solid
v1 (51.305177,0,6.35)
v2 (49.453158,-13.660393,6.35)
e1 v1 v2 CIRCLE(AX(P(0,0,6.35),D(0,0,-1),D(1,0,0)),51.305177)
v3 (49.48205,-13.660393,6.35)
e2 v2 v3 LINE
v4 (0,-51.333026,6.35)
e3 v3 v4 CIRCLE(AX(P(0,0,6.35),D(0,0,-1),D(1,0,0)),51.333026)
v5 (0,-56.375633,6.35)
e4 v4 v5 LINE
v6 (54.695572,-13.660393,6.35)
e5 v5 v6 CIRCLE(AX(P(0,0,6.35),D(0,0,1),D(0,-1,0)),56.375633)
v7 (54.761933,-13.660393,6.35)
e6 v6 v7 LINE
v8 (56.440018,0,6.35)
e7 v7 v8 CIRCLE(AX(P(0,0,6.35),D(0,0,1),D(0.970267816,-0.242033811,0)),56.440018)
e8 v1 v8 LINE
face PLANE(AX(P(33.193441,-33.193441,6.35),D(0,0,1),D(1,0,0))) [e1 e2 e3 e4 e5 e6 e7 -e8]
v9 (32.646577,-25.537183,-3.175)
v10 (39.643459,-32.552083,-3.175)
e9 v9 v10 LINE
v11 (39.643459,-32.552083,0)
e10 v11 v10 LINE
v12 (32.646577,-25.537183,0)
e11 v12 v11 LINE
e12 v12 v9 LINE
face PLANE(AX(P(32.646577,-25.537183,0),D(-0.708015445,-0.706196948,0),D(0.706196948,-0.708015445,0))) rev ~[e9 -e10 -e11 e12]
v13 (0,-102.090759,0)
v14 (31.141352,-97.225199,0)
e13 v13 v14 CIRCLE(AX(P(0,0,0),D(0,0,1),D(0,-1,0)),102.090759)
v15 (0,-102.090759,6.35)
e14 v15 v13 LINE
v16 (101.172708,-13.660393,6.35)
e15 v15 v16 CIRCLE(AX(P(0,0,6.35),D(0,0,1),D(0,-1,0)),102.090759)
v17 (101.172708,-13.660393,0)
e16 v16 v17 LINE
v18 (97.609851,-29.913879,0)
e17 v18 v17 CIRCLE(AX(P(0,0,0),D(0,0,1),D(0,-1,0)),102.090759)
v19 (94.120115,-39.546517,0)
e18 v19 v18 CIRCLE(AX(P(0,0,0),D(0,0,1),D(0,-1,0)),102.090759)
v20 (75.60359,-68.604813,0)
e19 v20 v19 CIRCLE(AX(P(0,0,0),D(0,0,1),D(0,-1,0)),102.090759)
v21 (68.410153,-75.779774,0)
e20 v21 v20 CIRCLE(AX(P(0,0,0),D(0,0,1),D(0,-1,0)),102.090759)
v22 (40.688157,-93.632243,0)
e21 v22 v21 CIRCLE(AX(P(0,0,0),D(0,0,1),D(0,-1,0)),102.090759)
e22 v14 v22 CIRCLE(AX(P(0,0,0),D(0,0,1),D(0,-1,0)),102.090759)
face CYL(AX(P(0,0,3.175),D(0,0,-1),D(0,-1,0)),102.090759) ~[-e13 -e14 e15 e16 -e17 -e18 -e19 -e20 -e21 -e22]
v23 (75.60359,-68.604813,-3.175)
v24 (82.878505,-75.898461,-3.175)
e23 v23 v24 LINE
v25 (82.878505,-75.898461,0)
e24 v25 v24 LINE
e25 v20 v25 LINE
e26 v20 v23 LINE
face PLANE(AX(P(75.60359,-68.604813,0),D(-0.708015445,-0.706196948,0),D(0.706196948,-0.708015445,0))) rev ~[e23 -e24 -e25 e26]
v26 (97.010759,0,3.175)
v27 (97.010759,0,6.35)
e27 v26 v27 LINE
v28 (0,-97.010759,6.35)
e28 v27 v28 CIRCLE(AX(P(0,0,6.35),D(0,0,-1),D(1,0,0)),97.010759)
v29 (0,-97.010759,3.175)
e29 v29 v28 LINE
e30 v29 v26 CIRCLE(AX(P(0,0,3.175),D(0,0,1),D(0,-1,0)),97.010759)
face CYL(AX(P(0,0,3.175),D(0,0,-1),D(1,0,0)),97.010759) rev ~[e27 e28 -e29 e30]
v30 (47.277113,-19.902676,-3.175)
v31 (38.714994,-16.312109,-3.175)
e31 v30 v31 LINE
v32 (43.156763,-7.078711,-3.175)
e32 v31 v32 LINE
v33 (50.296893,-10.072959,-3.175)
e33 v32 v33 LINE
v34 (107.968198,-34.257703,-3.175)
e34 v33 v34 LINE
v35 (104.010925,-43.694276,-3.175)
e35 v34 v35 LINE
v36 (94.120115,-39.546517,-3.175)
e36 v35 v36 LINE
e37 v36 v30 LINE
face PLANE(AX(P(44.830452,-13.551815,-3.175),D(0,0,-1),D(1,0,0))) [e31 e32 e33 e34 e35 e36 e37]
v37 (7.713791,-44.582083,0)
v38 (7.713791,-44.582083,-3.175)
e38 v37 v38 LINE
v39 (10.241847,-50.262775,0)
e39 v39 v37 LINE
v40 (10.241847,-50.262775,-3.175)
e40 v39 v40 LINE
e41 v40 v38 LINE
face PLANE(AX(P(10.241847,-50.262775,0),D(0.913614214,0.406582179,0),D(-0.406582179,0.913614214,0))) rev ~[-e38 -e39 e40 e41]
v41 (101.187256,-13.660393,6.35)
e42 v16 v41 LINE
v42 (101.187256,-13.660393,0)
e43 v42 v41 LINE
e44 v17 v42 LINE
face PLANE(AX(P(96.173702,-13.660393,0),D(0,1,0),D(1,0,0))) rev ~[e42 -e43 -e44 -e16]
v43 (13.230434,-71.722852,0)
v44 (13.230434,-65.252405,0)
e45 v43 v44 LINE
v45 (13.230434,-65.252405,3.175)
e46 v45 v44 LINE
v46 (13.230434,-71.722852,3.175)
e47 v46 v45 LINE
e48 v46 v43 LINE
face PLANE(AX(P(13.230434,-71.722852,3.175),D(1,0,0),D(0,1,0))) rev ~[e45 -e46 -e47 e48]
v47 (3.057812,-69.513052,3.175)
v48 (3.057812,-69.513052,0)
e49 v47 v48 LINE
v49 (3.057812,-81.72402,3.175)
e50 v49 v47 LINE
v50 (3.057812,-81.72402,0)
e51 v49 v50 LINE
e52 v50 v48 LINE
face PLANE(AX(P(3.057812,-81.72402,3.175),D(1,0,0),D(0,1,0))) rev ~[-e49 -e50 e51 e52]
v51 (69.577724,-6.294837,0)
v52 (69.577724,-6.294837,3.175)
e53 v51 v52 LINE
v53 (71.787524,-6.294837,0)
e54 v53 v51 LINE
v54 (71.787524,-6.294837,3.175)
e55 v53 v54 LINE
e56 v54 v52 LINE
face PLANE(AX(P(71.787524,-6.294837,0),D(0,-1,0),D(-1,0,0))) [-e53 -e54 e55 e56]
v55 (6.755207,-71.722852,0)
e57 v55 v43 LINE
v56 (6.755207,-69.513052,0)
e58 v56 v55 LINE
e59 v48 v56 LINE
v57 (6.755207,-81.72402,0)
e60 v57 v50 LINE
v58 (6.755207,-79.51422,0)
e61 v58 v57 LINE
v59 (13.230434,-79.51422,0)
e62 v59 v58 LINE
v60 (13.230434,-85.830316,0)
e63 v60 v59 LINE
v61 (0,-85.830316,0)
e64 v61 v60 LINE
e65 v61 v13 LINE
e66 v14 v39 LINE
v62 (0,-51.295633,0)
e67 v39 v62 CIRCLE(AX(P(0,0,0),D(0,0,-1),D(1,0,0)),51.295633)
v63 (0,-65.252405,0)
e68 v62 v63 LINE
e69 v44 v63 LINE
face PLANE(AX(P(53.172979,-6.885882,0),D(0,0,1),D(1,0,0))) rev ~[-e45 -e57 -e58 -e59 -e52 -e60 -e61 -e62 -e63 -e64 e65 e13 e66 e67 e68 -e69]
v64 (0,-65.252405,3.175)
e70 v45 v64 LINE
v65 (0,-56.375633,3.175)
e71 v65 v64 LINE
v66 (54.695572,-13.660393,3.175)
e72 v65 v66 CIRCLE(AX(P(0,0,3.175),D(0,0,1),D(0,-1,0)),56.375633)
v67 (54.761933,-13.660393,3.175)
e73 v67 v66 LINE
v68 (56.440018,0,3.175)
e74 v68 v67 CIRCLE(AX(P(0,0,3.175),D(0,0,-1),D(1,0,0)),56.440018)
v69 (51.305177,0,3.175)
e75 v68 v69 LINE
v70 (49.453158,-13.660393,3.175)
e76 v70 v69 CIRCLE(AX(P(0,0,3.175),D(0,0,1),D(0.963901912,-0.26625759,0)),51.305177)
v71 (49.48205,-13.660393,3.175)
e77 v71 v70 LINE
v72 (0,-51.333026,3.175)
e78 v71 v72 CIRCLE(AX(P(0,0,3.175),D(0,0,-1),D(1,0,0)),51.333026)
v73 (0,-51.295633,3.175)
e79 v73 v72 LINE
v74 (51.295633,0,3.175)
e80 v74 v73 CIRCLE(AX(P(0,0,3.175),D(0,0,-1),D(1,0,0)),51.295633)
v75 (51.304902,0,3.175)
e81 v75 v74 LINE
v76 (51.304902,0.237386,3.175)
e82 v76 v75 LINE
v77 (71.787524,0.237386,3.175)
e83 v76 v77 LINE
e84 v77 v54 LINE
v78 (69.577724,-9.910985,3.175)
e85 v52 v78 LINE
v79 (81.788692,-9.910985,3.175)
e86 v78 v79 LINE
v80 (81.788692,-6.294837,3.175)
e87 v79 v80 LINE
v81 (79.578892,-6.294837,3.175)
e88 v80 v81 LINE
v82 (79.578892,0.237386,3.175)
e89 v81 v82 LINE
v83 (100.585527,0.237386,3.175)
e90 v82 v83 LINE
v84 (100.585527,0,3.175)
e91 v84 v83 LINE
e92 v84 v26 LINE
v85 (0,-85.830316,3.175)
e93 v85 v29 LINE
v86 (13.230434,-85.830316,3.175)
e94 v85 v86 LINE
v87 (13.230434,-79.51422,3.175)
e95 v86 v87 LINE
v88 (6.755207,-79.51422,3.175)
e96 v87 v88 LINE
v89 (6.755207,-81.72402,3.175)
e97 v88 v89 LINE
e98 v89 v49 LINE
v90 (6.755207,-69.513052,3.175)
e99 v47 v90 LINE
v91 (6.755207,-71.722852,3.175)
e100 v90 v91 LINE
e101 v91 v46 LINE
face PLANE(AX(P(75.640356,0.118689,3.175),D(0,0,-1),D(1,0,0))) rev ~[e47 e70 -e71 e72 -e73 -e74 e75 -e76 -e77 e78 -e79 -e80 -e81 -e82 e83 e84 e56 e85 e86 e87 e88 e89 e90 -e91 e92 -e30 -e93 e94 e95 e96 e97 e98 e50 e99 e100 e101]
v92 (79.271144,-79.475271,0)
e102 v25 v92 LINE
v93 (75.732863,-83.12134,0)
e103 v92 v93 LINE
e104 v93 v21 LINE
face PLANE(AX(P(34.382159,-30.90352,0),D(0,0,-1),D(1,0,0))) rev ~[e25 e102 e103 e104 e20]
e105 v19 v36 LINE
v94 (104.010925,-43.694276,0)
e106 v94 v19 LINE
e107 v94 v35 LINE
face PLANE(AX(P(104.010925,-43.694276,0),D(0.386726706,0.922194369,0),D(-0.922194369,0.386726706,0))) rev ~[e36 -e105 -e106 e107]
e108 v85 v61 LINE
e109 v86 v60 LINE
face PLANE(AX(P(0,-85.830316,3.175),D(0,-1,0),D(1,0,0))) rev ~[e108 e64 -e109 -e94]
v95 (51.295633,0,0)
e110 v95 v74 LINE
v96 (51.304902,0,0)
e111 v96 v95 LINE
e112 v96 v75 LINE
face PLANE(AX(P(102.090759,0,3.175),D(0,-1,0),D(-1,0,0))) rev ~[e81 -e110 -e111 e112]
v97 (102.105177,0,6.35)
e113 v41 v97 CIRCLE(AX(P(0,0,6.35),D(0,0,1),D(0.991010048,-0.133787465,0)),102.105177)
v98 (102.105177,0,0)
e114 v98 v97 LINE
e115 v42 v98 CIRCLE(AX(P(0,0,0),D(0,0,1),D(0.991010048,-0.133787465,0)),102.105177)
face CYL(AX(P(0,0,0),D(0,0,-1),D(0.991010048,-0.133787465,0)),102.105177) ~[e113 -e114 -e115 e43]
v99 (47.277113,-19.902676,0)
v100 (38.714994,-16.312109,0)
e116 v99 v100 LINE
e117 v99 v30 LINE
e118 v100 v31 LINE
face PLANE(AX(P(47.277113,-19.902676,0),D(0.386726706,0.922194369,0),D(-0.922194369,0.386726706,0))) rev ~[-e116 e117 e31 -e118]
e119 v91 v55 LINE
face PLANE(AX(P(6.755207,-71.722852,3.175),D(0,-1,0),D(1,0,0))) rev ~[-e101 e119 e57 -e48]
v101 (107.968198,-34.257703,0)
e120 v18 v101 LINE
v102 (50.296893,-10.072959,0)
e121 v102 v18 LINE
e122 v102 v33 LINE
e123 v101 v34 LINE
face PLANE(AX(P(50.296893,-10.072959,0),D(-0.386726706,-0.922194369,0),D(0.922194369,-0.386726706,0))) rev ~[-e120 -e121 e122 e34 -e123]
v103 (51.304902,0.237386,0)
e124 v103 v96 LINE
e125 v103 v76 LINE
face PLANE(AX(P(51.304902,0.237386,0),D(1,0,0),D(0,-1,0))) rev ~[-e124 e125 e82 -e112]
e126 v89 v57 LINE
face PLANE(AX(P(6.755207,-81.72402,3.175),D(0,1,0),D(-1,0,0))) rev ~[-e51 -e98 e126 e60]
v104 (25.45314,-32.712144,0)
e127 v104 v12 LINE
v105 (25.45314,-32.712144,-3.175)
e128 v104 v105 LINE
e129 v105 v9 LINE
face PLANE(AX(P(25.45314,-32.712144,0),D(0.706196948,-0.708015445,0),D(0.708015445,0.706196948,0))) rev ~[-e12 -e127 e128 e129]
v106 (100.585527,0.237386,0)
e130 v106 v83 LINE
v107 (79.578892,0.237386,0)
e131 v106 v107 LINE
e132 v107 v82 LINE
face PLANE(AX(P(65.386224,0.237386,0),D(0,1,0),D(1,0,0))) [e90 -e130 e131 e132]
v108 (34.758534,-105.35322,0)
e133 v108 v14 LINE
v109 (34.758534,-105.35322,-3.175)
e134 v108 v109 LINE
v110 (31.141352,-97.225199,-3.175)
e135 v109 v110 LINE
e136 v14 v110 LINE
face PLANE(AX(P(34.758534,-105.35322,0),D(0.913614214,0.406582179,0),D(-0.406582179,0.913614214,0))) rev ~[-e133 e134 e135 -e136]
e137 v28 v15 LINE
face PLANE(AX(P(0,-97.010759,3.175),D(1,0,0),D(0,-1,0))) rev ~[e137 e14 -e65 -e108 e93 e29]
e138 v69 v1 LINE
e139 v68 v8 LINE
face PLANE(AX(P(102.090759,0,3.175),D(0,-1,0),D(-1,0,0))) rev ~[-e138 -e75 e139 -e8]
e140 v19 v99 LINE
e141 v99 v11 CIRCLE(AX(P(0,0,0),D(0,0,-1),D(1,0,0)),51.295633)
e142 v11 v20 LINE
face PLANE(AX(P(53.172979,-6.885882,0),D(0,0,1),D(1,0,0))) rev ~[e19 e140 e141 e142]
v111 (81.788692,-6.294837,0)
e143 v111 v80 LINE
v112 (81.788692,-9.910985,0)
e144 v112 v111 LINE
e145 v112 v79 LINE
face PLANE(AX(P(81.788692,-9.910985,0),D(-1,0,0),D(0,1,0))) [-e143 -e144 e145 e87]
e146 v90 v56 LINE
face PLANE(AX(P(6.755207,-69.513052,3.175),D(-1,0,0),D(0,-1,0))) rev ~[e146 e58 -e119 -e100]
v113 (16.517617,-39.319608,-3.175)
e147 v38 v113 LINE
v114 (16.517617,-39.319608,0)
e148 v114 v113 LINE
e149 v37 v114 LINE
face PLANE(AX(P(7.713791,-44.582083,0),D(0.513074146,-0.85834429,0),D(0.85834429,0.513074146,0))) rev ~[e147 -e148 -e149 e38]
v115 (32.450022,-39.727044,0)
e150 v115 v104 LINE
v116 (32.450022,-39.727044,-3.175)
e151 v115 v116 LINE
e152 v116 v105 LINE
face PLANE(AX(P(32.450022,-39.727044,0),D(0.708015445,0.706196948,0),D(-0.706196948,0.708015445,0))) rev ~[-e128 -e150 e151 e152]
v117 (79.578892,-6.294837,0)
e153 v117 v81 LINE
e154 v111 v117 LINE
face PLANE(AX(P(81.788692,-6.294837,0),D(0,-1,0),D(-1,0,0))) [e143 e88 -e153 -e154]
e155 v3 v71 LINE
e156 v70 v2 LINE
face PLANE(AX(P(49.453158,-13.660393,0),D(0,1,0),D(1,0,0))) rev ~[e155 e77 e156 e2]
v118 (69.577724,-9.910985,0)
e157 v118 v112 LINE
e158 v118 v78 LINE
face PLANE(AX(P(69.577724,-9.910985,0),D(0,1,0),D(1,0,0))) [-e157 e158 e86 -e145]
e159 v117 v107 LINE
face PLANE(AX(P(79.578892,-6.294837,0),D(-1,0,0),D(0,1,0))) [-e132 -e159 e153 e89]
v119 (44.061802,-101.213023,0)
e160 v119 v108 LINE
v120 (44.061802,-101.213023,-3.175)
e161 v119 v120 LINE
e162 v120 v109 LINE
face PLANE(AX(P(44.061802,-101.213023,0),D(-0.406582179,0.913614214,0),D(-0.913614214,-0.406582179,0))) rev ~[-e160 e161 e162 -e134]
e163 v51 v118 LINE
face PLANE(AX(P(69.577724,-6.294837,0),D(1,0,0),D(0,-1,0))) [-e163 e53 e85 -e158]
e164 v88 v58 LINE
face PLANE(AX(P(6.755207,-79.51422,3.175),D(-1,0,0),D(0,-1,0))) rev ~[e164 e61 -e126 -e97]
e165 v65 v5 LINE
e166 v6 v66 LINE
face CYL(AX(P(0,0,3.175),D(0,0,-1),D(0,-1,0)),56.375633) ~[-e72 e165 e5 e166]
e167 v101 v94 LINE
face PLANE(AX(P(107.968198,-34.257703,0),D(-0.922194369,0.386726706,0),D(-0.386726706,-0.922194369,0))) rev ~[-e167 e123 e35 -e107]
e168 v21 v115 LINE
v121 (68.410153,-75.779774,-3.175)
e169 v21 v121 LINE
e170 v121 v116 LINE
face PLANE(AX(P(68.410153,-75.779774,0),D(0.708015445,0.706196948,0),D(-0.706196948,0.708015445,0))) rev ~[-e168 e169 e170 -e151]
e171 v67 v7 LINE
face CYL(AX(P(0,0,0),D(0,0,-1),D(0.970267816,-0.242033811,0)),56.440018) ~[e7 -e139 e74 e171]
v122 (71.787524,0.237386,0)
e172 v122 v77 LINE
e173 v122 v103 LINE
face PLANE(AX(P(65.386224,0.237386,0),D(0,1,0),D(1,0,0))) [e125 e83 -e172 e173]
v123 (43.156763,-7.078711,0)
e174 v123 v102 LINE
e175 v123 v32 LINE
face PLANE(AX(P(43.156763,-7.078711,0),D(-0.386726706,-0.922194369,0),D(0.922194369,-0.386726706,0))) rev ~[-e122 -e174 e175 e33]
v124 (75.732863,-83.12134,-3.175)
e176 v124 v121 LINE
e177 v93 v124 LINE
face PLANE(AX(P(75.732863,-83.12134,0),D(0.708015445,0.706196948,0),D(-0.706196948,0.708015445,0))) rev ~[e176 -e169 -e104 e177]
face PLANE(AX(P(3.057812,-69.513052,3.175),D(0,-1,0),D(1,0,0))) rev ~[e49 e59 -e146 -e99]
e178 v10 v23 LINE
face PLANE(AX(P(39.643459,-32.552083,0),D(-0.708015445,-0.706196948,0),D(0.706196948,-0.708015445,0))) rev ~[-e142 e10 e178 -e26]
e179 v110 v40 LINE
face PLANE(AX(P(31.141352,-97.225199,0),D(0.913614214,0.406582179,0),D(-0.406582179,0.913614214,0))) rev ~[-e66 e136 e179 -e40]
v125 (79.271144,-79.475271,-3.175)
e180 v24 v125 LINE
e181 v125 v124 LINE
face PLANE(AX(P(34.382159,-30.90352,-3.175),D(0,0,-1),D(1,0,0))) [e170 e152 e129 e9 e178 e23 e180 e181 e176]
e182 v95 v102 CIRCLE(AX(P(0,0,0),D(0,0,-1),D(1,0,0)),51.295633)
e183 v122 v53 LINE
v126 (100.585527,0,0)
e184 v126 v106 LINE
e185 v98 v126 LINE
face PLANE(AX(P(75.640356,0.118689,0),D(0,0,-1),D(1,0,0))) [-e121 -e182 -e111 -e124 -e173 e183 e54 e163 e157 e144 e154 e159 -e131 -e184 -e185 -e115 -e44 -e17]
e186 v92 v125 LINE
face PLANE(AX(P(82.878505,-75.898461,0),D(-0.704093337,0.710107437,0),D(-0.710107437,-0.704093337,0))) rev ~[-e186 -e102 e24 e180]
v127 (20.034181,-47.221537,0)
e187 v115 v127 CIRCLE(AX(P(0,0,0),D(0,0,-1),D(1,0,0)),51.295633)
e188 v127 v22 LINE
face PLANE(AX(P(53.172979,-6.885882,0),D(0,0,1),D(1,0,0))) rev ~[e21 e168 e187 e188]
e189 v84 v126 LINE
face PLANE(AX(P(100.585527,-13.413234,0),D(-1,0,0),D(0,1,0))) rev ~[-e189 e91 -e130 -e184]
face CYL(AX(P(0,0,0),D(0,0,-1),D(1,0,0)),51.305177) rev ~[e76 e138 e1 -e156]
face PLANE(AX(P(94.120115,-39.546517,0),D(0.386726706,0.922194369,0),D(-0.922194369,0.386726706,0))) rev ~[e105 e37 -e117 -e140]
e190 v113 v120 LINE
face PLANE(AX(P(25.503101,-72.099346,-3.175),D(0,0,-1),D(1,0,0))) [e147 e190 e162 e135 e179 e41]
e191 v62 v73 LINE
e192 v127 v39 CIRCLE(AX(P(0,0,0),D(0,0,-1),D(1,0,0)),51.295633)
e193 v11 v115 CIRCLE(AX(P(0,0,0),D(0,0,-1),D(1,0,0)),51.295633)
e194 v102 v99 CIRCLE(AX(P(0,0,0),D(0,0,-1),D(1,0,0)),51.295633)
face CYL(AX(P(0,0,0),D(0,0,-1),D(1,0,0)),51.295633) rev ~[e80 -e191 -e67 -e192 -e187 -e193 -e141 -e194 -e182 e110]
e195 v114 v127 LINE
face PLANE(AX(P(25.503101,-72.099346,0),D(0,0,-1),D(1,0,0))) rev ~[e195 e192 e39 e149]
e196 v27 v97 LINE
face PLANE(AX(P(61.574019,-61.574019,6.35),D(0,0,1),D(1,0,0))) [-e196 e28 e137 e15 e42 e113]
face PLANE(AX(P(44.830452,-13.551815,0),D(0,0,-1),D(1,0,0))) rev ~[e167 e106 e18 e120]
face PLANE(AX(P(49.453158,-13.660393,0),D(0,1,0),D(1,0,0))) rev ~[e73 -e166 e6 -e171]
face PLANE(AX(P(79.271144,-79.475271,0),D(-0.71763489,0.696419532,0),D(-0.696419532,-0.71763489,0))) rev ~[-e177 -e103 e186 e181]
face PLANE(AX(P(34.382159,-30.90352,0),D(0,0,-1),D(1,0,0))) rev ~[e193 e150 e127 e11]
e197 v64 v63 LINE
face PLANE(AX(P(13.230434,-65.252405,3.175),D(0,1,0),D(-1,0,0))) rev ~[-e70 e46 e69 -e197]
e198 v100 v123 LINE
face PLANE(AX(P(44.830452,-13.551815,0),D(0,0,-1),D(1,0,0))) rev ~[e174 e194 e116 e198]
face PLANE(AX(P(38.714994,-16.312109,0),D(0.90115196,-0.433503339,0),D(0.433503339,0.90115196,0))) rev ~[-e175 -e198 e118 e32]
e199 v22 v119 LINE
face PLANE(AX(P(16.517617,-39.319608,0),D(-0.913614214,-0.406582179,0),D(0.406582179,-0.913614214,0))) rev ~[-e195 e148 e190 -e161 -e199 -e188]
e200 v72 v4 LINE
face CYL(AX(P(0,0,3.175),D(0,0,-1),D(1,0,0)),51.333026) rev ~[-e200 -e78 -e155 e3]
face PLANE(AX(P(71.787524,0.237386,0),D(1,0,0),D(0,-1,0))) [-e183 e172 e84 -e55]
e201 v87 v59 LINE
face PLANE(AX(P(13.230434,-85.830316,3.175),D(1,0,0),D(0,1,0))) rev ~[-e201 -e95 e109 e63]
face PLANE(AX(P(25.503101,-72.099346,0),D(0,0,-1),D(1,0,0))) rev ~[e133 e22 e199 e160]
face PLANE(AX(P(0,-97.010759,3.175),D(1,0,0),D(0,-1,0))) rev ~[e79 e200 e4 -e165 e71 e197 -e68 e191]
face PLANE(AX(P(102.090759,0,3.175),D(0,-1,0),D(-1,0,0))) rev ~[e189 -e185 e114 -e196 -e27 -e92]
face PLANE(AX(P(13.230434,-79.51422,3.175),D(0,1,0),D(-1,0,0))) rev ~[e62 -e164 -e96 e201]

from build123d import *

# Parameters (mm, degrees)
F1_DEPTH  = 3.175
F4_DEPTH  = 3.175
F6_DEPTH  = 6.35
F7_DEPTH  = 3.175
F9_DEPTH  = 25.4
F11_DEPTH = 3.175
F13_DEPTH = 3.175
F14_DEPTH = 25.4


with BuildPart() as f1:
    # F0 (on Top) → F1 (new body)
    with BuildSketch(Plane.XY):
        with BuildLine():
            Line((0, -51.2956328023), (0, -102.09075941))
            ThreePointArc((0, -102.09075941), (72.1890682753, -72.1890682753), (102.09075941, 0))
            Line((102.09075941, 0), (51.2956328023, 0))
            ThreePointArc((51.2956328023, 0), (36.2714897998, -36.2714897998), (0, -51.2956328023))
        make_face()
    extrude(amount=F1_DEPTH)

    # F3 (on face) → F4 (join)
    with BuildSketch(Plane.XY.offset(3.175)):
        with BuildLine():
            ThreePointArc((0, -56.3756328023), (39.8635922482, -39.8635922482), (56.3756328023, 0))
            Line((56.3756328023, 0), (51.3330261441, 0))
            ThreePointArc((51.3330261441, 0), (36.2979308853, -36.2979308853), (0, -51.3330261441))
            Line((0, -51.3330261441), (0, -56.3756328023))
        make_face()
        with BuildLine():
            Line((102.09075941, 0), (97.01075941, 0))
            ThreePointArc((97.01075941, 0), (68.5969658269, -68.5969658269), (0, -97.01075941))
            Line((0, -97.01075941), (0, -102.09075941))
            ThreePointArc((0, -102.09075941), (72.1890682753, -72.1890682753), (102.09075941, 0))
        make_face()
    extrude(amount=F4_DEPTH)

    # F5 (on Top) → F6 (join)
    with BuildSketch(Plane.XY):
        with BuildLine():
            ThreePointArc((54.7619331998, -13.660392724), (56.0189261095, -6.8815386855), (56.4400182242, 0))
            Line((56.4400182242, 0), (51.3051767249, 0))
            ThreePointArc((51.3051767249, 0), (50.8400637591, -6.8926827684), (49.4531579316, -13.660392724))
            Line((49.4531579316, -13.660392724), (54.7619331998, -13.660392724))
        make_face()
        with BuildLine():
            Line((102.1051767249, 0), (97.1390098326, 0))
            ThreePointArc((97.1390098326, 0), (96.8973822865, -6.8472284381), (96.1737017167, -13.660392724))
            Line((96.1737017167, -13.660392724), (101.1872560388, -13.660392724))
            ThreePointArc((101.1872560388, -13.660392724), (101.8754380952, -6.8455990928), (102.1051767249, 0))
        make_face()
    extrude(amount=F6_DEPTH)

    # F2 (on Top) → F7 (join)
    with BuildSketch(Plane.XY):
        Polygon((65.3862244444, -13.4132344524), (65.3862244444, 0.2373858813), (51.3049019501, 0.2373858813), (51.3049019501, -13.4632168472), align=None)
        Polygon((100.5855267867, 0.2373858813), (85.8938746733, 0.2373858813), (85.9641355587, -13.4132344524), (100.5855267867, -13.4132344524), align=None)
    extrude(amount=F7_DEPTH)

    # F8 (on face) → F9 (cut)
    with BuildSketch(Plane.XY.offset(3.175)):
        Polygon((0, -85.8303158734), (13.2304336887, -85.8303158734), (13.2304336887, -79.5142199461), (6.7552071823, -79.5142199461), (6.7552071823, -81.7240199461), (3.0578118576, -81.7240199461), (3.0578118576, -69.5130521654), (6.7552071823, -69.5130521654), (6.7552071823, -71.7228521654), (13.2304336887, -71.7228521654), (13.2304336887, -65.2524047592), (0, -65.2524047592), align=None)
    extrude(amount=-F9_DEPTH, mode=Mode.SUBTRACT)

    # F10 (on face) → F11 (join)
    with BuildSketch(Plane(origin=(0, 0, 0), x_dir=(1, 0, 0), z_dir=(0, 0, -1))):
        with BuildLine():
            ThreePointArc((39.6434592285, 32.5520826521), (37.980845771, 34.4774897449), (36.2248193412, 36.3181002847))
            Line((36.2248193412, 36.3181002847), (29.0498583475, 29.1246633635))
            Line((29.0498583475, 29.1246633635), (32.646576808, 25.5371828667))
            Line((32.646576808, 25.5371828667), (39.6434592285, 32.5520826521))
        make_face()
        with BuildLine():
            Line((29.0498583475, 29.1246633635), (36.2248193412, 36.3181002847))
            ThreePointArc((36.2248193412, 36.3181002847), (34.3796988436, 38.0693873344), (32.4500223073, 39.7270436459))
            Line((32.4500223073, 39.7270436459), (25.4531398869, 32.7121438604))
            Line((25.4531398869, 32.7121438604), (29.0498583475, 29.1246633635))
        make_face()
        with BuildLine():
            Line((36.2248193412, 36.3181002847), (72.0961827352, 72.2818344532))
            ThreePointArc((72.0961827352, 72.2818344532), (70.2749350461, 74.0537417095), (68.4101530773, 75.7797737714))
            Line((68.4101530773, 75.7797737714), (32.4500223073, 39.7270436459))
            ThreePointArc((32.4500223073, 39.7270436459), (34.3796988436, 38.0693873344), (36.2248193412, 36.3181002847))
        make_face()
        with BuildLine():
            ThreePointArc((75.6035899985, 68.6048127777), (73.8727679087, 70.4651496728), (72.0961827352, 72.2818344532))
            Line((72.0961827352, 72.2818344532), (36.2248193412, 36.3181002847))
            ThreePointArc((36.2248193412, 36.3181002847), (37.980845771, 34.4774897449), (39.6434592285, 32.5520826521))
            Line((39.6434592285, 32.5520826521), (75.6035899985, 68.6048127777))
        make_face()
        with BuildLine():
            Line((79.271143729, 79.4752713743), (72.0961827352, 72.2818344532))
            ThreePointArc((72.0961827352, 72.2818344532), (73.8727679087, 70.4651496728), (75.6035899985, 68.6048127777))
            Line((75.6035899985, 68.6048127777), (82.8785053866, 75.8984614814))
            Line((82.8785053866, 75.8984614814), (79.271143729, 79.4752713743))
        make_face()
        with BuildLine():
            ThreePointArc((68.4101530773, 75.7797737714), (70.2749350461, 74.0537417095), (72.0961827352, 72.2818344532))
            Line((72.0961827352, 72.2818344532), (79.271143729, 79.4752713743))
            Line((79.271143729, 79.4752713743), (75.7328631666, 83.1213402502))
            Line((75.7328631666, 83.1213402502), (68.4101530773, 75.7797737714))
        make_face()
        with BuildLine():
            Line((20.0341812257, 47.2215366883), (40.6881574418, 93.6322433828))
            ThreePointArc((40.6881574418, 93.6322433828), (35.9596571955, 95.5480309127), (31.1413521737, 97.2251991086))
            Line((31.1413521737, 97.2251991086), (10.2418471319, 50.2627746142))
            ThreePointArc((10.2418471319, 50.2627746142), (15.2141958482, 48.9874493037), (20.0341812257, 47.2215366883))
        make_face()
        with BuildLine():
            ThreePointArc((31.1413521737, 97.2251991086), (35.9596571955, 95.5480309127), (40.6881574418, 93.6322433828))
            Line((40.6881574418, 93.6322433828), (44.0618023276, 101.2130230665))
            Line((44.0618023276, 101.2130230665), (34.7585338749, 105.353220427))
            Line((34.7585338749, 105.353220427), (31.1413521737, 97.2251991086))
        make_face()
        with BuildLine():
            Line((16.5176168084, 39.3196083605), (20.0341812257, 47.2215366883))
            ThreePointArc((20.0341812257, 47.2215366883), (15.2141958482, 48.9874493037), (10.2418471319, 50.2627746142))
            Line((10.2418471319, 50.2627746142), (7.7137911807, 44.5820833017))
            Line((7.7137911807, 44.5820833017), (16.5176168084, 39.3196083605))
        make_face()
        with BuildLine():
            ThreePointArc((50.2968928634, 10.0729594896), (49.0339423103, 15.0636796999), (47.2771132537, 19.902675875))
            Line((47.2771132537, 19.902675875), (38.7149937451, 16.3121093065))
            Line((38.7149937451, 16.3121093065), (43.1567628434, 7.0787111473))
            Line((43.1567628434, 7.0787111473), (50.2968928634, 10.0729594896))
        make_face()
        with BuildLine():
            ThreePointArc((97.6098508897, 29.9138791566), (95.9858944102, 34.7740022313), (94.1201154327, 39.5465172658))
            Line((94.1201154327, 39.5465172658), (47.2771132537, 19.902675875))
            ThreePointArc((47.2771132537, 19.902675875), (49.0339423103, 15.0636796999), (50.2968928634, 10.0729594896))
            Line((50.2968928634, 10.0729594896), (97.6098508897, 29.9138791566))
        make_face()
        with BuildLine():
            Line((104.0109246969, 43.6942763627), (94.1201154327, 39.5465172658))
            ThreePointArc((94.1201154327, 39.5465172658), (95.9858944102, 34.7740022313), (97.6098508897, 29.9138791566))
            Line((97.6098508897, 29.9138791566), (107.9681979582, 34.2577025116))
            Line((107.9681979582, 34.2577025116), (104.0109246969, 43.6942763627))
        make_face()
    extrude(amount=F11_DEPTH)

    # F12 (on face) → F13 (join)
    with BuildSketch(Plane(origin=(0, 0, 0), x_dir=(1, 0, 0), z_dir=(0, 0, -1))):
        Polygon((65.3862244444, 0), (65.3862244444, -0.2373858813), (85.8938746733, -0.2373858813), (85.8950965183, 0), align=None)
    extrude(amount=-F13_DEPTH)

    # F2 (on Top) → F14 (cut)
    with BuildSketch(Plane.XY):
        Polygon((81.7886919434, -6.2948371671), (79.5788919434, -6.2948371671), (79.5788919434, 0.2373858813), (71.7875241627, 0.2373858813), (71.7875241627, -6.2948371671), (69.5777241627, -6.2948371671), (69.5777241627, -9.9109848417), (81.7886919434, -9.9109848417), align=None)
    extrude(amount=F14_DEPTH, mode=Mode.SUBTRACT)


solid = f1.part
